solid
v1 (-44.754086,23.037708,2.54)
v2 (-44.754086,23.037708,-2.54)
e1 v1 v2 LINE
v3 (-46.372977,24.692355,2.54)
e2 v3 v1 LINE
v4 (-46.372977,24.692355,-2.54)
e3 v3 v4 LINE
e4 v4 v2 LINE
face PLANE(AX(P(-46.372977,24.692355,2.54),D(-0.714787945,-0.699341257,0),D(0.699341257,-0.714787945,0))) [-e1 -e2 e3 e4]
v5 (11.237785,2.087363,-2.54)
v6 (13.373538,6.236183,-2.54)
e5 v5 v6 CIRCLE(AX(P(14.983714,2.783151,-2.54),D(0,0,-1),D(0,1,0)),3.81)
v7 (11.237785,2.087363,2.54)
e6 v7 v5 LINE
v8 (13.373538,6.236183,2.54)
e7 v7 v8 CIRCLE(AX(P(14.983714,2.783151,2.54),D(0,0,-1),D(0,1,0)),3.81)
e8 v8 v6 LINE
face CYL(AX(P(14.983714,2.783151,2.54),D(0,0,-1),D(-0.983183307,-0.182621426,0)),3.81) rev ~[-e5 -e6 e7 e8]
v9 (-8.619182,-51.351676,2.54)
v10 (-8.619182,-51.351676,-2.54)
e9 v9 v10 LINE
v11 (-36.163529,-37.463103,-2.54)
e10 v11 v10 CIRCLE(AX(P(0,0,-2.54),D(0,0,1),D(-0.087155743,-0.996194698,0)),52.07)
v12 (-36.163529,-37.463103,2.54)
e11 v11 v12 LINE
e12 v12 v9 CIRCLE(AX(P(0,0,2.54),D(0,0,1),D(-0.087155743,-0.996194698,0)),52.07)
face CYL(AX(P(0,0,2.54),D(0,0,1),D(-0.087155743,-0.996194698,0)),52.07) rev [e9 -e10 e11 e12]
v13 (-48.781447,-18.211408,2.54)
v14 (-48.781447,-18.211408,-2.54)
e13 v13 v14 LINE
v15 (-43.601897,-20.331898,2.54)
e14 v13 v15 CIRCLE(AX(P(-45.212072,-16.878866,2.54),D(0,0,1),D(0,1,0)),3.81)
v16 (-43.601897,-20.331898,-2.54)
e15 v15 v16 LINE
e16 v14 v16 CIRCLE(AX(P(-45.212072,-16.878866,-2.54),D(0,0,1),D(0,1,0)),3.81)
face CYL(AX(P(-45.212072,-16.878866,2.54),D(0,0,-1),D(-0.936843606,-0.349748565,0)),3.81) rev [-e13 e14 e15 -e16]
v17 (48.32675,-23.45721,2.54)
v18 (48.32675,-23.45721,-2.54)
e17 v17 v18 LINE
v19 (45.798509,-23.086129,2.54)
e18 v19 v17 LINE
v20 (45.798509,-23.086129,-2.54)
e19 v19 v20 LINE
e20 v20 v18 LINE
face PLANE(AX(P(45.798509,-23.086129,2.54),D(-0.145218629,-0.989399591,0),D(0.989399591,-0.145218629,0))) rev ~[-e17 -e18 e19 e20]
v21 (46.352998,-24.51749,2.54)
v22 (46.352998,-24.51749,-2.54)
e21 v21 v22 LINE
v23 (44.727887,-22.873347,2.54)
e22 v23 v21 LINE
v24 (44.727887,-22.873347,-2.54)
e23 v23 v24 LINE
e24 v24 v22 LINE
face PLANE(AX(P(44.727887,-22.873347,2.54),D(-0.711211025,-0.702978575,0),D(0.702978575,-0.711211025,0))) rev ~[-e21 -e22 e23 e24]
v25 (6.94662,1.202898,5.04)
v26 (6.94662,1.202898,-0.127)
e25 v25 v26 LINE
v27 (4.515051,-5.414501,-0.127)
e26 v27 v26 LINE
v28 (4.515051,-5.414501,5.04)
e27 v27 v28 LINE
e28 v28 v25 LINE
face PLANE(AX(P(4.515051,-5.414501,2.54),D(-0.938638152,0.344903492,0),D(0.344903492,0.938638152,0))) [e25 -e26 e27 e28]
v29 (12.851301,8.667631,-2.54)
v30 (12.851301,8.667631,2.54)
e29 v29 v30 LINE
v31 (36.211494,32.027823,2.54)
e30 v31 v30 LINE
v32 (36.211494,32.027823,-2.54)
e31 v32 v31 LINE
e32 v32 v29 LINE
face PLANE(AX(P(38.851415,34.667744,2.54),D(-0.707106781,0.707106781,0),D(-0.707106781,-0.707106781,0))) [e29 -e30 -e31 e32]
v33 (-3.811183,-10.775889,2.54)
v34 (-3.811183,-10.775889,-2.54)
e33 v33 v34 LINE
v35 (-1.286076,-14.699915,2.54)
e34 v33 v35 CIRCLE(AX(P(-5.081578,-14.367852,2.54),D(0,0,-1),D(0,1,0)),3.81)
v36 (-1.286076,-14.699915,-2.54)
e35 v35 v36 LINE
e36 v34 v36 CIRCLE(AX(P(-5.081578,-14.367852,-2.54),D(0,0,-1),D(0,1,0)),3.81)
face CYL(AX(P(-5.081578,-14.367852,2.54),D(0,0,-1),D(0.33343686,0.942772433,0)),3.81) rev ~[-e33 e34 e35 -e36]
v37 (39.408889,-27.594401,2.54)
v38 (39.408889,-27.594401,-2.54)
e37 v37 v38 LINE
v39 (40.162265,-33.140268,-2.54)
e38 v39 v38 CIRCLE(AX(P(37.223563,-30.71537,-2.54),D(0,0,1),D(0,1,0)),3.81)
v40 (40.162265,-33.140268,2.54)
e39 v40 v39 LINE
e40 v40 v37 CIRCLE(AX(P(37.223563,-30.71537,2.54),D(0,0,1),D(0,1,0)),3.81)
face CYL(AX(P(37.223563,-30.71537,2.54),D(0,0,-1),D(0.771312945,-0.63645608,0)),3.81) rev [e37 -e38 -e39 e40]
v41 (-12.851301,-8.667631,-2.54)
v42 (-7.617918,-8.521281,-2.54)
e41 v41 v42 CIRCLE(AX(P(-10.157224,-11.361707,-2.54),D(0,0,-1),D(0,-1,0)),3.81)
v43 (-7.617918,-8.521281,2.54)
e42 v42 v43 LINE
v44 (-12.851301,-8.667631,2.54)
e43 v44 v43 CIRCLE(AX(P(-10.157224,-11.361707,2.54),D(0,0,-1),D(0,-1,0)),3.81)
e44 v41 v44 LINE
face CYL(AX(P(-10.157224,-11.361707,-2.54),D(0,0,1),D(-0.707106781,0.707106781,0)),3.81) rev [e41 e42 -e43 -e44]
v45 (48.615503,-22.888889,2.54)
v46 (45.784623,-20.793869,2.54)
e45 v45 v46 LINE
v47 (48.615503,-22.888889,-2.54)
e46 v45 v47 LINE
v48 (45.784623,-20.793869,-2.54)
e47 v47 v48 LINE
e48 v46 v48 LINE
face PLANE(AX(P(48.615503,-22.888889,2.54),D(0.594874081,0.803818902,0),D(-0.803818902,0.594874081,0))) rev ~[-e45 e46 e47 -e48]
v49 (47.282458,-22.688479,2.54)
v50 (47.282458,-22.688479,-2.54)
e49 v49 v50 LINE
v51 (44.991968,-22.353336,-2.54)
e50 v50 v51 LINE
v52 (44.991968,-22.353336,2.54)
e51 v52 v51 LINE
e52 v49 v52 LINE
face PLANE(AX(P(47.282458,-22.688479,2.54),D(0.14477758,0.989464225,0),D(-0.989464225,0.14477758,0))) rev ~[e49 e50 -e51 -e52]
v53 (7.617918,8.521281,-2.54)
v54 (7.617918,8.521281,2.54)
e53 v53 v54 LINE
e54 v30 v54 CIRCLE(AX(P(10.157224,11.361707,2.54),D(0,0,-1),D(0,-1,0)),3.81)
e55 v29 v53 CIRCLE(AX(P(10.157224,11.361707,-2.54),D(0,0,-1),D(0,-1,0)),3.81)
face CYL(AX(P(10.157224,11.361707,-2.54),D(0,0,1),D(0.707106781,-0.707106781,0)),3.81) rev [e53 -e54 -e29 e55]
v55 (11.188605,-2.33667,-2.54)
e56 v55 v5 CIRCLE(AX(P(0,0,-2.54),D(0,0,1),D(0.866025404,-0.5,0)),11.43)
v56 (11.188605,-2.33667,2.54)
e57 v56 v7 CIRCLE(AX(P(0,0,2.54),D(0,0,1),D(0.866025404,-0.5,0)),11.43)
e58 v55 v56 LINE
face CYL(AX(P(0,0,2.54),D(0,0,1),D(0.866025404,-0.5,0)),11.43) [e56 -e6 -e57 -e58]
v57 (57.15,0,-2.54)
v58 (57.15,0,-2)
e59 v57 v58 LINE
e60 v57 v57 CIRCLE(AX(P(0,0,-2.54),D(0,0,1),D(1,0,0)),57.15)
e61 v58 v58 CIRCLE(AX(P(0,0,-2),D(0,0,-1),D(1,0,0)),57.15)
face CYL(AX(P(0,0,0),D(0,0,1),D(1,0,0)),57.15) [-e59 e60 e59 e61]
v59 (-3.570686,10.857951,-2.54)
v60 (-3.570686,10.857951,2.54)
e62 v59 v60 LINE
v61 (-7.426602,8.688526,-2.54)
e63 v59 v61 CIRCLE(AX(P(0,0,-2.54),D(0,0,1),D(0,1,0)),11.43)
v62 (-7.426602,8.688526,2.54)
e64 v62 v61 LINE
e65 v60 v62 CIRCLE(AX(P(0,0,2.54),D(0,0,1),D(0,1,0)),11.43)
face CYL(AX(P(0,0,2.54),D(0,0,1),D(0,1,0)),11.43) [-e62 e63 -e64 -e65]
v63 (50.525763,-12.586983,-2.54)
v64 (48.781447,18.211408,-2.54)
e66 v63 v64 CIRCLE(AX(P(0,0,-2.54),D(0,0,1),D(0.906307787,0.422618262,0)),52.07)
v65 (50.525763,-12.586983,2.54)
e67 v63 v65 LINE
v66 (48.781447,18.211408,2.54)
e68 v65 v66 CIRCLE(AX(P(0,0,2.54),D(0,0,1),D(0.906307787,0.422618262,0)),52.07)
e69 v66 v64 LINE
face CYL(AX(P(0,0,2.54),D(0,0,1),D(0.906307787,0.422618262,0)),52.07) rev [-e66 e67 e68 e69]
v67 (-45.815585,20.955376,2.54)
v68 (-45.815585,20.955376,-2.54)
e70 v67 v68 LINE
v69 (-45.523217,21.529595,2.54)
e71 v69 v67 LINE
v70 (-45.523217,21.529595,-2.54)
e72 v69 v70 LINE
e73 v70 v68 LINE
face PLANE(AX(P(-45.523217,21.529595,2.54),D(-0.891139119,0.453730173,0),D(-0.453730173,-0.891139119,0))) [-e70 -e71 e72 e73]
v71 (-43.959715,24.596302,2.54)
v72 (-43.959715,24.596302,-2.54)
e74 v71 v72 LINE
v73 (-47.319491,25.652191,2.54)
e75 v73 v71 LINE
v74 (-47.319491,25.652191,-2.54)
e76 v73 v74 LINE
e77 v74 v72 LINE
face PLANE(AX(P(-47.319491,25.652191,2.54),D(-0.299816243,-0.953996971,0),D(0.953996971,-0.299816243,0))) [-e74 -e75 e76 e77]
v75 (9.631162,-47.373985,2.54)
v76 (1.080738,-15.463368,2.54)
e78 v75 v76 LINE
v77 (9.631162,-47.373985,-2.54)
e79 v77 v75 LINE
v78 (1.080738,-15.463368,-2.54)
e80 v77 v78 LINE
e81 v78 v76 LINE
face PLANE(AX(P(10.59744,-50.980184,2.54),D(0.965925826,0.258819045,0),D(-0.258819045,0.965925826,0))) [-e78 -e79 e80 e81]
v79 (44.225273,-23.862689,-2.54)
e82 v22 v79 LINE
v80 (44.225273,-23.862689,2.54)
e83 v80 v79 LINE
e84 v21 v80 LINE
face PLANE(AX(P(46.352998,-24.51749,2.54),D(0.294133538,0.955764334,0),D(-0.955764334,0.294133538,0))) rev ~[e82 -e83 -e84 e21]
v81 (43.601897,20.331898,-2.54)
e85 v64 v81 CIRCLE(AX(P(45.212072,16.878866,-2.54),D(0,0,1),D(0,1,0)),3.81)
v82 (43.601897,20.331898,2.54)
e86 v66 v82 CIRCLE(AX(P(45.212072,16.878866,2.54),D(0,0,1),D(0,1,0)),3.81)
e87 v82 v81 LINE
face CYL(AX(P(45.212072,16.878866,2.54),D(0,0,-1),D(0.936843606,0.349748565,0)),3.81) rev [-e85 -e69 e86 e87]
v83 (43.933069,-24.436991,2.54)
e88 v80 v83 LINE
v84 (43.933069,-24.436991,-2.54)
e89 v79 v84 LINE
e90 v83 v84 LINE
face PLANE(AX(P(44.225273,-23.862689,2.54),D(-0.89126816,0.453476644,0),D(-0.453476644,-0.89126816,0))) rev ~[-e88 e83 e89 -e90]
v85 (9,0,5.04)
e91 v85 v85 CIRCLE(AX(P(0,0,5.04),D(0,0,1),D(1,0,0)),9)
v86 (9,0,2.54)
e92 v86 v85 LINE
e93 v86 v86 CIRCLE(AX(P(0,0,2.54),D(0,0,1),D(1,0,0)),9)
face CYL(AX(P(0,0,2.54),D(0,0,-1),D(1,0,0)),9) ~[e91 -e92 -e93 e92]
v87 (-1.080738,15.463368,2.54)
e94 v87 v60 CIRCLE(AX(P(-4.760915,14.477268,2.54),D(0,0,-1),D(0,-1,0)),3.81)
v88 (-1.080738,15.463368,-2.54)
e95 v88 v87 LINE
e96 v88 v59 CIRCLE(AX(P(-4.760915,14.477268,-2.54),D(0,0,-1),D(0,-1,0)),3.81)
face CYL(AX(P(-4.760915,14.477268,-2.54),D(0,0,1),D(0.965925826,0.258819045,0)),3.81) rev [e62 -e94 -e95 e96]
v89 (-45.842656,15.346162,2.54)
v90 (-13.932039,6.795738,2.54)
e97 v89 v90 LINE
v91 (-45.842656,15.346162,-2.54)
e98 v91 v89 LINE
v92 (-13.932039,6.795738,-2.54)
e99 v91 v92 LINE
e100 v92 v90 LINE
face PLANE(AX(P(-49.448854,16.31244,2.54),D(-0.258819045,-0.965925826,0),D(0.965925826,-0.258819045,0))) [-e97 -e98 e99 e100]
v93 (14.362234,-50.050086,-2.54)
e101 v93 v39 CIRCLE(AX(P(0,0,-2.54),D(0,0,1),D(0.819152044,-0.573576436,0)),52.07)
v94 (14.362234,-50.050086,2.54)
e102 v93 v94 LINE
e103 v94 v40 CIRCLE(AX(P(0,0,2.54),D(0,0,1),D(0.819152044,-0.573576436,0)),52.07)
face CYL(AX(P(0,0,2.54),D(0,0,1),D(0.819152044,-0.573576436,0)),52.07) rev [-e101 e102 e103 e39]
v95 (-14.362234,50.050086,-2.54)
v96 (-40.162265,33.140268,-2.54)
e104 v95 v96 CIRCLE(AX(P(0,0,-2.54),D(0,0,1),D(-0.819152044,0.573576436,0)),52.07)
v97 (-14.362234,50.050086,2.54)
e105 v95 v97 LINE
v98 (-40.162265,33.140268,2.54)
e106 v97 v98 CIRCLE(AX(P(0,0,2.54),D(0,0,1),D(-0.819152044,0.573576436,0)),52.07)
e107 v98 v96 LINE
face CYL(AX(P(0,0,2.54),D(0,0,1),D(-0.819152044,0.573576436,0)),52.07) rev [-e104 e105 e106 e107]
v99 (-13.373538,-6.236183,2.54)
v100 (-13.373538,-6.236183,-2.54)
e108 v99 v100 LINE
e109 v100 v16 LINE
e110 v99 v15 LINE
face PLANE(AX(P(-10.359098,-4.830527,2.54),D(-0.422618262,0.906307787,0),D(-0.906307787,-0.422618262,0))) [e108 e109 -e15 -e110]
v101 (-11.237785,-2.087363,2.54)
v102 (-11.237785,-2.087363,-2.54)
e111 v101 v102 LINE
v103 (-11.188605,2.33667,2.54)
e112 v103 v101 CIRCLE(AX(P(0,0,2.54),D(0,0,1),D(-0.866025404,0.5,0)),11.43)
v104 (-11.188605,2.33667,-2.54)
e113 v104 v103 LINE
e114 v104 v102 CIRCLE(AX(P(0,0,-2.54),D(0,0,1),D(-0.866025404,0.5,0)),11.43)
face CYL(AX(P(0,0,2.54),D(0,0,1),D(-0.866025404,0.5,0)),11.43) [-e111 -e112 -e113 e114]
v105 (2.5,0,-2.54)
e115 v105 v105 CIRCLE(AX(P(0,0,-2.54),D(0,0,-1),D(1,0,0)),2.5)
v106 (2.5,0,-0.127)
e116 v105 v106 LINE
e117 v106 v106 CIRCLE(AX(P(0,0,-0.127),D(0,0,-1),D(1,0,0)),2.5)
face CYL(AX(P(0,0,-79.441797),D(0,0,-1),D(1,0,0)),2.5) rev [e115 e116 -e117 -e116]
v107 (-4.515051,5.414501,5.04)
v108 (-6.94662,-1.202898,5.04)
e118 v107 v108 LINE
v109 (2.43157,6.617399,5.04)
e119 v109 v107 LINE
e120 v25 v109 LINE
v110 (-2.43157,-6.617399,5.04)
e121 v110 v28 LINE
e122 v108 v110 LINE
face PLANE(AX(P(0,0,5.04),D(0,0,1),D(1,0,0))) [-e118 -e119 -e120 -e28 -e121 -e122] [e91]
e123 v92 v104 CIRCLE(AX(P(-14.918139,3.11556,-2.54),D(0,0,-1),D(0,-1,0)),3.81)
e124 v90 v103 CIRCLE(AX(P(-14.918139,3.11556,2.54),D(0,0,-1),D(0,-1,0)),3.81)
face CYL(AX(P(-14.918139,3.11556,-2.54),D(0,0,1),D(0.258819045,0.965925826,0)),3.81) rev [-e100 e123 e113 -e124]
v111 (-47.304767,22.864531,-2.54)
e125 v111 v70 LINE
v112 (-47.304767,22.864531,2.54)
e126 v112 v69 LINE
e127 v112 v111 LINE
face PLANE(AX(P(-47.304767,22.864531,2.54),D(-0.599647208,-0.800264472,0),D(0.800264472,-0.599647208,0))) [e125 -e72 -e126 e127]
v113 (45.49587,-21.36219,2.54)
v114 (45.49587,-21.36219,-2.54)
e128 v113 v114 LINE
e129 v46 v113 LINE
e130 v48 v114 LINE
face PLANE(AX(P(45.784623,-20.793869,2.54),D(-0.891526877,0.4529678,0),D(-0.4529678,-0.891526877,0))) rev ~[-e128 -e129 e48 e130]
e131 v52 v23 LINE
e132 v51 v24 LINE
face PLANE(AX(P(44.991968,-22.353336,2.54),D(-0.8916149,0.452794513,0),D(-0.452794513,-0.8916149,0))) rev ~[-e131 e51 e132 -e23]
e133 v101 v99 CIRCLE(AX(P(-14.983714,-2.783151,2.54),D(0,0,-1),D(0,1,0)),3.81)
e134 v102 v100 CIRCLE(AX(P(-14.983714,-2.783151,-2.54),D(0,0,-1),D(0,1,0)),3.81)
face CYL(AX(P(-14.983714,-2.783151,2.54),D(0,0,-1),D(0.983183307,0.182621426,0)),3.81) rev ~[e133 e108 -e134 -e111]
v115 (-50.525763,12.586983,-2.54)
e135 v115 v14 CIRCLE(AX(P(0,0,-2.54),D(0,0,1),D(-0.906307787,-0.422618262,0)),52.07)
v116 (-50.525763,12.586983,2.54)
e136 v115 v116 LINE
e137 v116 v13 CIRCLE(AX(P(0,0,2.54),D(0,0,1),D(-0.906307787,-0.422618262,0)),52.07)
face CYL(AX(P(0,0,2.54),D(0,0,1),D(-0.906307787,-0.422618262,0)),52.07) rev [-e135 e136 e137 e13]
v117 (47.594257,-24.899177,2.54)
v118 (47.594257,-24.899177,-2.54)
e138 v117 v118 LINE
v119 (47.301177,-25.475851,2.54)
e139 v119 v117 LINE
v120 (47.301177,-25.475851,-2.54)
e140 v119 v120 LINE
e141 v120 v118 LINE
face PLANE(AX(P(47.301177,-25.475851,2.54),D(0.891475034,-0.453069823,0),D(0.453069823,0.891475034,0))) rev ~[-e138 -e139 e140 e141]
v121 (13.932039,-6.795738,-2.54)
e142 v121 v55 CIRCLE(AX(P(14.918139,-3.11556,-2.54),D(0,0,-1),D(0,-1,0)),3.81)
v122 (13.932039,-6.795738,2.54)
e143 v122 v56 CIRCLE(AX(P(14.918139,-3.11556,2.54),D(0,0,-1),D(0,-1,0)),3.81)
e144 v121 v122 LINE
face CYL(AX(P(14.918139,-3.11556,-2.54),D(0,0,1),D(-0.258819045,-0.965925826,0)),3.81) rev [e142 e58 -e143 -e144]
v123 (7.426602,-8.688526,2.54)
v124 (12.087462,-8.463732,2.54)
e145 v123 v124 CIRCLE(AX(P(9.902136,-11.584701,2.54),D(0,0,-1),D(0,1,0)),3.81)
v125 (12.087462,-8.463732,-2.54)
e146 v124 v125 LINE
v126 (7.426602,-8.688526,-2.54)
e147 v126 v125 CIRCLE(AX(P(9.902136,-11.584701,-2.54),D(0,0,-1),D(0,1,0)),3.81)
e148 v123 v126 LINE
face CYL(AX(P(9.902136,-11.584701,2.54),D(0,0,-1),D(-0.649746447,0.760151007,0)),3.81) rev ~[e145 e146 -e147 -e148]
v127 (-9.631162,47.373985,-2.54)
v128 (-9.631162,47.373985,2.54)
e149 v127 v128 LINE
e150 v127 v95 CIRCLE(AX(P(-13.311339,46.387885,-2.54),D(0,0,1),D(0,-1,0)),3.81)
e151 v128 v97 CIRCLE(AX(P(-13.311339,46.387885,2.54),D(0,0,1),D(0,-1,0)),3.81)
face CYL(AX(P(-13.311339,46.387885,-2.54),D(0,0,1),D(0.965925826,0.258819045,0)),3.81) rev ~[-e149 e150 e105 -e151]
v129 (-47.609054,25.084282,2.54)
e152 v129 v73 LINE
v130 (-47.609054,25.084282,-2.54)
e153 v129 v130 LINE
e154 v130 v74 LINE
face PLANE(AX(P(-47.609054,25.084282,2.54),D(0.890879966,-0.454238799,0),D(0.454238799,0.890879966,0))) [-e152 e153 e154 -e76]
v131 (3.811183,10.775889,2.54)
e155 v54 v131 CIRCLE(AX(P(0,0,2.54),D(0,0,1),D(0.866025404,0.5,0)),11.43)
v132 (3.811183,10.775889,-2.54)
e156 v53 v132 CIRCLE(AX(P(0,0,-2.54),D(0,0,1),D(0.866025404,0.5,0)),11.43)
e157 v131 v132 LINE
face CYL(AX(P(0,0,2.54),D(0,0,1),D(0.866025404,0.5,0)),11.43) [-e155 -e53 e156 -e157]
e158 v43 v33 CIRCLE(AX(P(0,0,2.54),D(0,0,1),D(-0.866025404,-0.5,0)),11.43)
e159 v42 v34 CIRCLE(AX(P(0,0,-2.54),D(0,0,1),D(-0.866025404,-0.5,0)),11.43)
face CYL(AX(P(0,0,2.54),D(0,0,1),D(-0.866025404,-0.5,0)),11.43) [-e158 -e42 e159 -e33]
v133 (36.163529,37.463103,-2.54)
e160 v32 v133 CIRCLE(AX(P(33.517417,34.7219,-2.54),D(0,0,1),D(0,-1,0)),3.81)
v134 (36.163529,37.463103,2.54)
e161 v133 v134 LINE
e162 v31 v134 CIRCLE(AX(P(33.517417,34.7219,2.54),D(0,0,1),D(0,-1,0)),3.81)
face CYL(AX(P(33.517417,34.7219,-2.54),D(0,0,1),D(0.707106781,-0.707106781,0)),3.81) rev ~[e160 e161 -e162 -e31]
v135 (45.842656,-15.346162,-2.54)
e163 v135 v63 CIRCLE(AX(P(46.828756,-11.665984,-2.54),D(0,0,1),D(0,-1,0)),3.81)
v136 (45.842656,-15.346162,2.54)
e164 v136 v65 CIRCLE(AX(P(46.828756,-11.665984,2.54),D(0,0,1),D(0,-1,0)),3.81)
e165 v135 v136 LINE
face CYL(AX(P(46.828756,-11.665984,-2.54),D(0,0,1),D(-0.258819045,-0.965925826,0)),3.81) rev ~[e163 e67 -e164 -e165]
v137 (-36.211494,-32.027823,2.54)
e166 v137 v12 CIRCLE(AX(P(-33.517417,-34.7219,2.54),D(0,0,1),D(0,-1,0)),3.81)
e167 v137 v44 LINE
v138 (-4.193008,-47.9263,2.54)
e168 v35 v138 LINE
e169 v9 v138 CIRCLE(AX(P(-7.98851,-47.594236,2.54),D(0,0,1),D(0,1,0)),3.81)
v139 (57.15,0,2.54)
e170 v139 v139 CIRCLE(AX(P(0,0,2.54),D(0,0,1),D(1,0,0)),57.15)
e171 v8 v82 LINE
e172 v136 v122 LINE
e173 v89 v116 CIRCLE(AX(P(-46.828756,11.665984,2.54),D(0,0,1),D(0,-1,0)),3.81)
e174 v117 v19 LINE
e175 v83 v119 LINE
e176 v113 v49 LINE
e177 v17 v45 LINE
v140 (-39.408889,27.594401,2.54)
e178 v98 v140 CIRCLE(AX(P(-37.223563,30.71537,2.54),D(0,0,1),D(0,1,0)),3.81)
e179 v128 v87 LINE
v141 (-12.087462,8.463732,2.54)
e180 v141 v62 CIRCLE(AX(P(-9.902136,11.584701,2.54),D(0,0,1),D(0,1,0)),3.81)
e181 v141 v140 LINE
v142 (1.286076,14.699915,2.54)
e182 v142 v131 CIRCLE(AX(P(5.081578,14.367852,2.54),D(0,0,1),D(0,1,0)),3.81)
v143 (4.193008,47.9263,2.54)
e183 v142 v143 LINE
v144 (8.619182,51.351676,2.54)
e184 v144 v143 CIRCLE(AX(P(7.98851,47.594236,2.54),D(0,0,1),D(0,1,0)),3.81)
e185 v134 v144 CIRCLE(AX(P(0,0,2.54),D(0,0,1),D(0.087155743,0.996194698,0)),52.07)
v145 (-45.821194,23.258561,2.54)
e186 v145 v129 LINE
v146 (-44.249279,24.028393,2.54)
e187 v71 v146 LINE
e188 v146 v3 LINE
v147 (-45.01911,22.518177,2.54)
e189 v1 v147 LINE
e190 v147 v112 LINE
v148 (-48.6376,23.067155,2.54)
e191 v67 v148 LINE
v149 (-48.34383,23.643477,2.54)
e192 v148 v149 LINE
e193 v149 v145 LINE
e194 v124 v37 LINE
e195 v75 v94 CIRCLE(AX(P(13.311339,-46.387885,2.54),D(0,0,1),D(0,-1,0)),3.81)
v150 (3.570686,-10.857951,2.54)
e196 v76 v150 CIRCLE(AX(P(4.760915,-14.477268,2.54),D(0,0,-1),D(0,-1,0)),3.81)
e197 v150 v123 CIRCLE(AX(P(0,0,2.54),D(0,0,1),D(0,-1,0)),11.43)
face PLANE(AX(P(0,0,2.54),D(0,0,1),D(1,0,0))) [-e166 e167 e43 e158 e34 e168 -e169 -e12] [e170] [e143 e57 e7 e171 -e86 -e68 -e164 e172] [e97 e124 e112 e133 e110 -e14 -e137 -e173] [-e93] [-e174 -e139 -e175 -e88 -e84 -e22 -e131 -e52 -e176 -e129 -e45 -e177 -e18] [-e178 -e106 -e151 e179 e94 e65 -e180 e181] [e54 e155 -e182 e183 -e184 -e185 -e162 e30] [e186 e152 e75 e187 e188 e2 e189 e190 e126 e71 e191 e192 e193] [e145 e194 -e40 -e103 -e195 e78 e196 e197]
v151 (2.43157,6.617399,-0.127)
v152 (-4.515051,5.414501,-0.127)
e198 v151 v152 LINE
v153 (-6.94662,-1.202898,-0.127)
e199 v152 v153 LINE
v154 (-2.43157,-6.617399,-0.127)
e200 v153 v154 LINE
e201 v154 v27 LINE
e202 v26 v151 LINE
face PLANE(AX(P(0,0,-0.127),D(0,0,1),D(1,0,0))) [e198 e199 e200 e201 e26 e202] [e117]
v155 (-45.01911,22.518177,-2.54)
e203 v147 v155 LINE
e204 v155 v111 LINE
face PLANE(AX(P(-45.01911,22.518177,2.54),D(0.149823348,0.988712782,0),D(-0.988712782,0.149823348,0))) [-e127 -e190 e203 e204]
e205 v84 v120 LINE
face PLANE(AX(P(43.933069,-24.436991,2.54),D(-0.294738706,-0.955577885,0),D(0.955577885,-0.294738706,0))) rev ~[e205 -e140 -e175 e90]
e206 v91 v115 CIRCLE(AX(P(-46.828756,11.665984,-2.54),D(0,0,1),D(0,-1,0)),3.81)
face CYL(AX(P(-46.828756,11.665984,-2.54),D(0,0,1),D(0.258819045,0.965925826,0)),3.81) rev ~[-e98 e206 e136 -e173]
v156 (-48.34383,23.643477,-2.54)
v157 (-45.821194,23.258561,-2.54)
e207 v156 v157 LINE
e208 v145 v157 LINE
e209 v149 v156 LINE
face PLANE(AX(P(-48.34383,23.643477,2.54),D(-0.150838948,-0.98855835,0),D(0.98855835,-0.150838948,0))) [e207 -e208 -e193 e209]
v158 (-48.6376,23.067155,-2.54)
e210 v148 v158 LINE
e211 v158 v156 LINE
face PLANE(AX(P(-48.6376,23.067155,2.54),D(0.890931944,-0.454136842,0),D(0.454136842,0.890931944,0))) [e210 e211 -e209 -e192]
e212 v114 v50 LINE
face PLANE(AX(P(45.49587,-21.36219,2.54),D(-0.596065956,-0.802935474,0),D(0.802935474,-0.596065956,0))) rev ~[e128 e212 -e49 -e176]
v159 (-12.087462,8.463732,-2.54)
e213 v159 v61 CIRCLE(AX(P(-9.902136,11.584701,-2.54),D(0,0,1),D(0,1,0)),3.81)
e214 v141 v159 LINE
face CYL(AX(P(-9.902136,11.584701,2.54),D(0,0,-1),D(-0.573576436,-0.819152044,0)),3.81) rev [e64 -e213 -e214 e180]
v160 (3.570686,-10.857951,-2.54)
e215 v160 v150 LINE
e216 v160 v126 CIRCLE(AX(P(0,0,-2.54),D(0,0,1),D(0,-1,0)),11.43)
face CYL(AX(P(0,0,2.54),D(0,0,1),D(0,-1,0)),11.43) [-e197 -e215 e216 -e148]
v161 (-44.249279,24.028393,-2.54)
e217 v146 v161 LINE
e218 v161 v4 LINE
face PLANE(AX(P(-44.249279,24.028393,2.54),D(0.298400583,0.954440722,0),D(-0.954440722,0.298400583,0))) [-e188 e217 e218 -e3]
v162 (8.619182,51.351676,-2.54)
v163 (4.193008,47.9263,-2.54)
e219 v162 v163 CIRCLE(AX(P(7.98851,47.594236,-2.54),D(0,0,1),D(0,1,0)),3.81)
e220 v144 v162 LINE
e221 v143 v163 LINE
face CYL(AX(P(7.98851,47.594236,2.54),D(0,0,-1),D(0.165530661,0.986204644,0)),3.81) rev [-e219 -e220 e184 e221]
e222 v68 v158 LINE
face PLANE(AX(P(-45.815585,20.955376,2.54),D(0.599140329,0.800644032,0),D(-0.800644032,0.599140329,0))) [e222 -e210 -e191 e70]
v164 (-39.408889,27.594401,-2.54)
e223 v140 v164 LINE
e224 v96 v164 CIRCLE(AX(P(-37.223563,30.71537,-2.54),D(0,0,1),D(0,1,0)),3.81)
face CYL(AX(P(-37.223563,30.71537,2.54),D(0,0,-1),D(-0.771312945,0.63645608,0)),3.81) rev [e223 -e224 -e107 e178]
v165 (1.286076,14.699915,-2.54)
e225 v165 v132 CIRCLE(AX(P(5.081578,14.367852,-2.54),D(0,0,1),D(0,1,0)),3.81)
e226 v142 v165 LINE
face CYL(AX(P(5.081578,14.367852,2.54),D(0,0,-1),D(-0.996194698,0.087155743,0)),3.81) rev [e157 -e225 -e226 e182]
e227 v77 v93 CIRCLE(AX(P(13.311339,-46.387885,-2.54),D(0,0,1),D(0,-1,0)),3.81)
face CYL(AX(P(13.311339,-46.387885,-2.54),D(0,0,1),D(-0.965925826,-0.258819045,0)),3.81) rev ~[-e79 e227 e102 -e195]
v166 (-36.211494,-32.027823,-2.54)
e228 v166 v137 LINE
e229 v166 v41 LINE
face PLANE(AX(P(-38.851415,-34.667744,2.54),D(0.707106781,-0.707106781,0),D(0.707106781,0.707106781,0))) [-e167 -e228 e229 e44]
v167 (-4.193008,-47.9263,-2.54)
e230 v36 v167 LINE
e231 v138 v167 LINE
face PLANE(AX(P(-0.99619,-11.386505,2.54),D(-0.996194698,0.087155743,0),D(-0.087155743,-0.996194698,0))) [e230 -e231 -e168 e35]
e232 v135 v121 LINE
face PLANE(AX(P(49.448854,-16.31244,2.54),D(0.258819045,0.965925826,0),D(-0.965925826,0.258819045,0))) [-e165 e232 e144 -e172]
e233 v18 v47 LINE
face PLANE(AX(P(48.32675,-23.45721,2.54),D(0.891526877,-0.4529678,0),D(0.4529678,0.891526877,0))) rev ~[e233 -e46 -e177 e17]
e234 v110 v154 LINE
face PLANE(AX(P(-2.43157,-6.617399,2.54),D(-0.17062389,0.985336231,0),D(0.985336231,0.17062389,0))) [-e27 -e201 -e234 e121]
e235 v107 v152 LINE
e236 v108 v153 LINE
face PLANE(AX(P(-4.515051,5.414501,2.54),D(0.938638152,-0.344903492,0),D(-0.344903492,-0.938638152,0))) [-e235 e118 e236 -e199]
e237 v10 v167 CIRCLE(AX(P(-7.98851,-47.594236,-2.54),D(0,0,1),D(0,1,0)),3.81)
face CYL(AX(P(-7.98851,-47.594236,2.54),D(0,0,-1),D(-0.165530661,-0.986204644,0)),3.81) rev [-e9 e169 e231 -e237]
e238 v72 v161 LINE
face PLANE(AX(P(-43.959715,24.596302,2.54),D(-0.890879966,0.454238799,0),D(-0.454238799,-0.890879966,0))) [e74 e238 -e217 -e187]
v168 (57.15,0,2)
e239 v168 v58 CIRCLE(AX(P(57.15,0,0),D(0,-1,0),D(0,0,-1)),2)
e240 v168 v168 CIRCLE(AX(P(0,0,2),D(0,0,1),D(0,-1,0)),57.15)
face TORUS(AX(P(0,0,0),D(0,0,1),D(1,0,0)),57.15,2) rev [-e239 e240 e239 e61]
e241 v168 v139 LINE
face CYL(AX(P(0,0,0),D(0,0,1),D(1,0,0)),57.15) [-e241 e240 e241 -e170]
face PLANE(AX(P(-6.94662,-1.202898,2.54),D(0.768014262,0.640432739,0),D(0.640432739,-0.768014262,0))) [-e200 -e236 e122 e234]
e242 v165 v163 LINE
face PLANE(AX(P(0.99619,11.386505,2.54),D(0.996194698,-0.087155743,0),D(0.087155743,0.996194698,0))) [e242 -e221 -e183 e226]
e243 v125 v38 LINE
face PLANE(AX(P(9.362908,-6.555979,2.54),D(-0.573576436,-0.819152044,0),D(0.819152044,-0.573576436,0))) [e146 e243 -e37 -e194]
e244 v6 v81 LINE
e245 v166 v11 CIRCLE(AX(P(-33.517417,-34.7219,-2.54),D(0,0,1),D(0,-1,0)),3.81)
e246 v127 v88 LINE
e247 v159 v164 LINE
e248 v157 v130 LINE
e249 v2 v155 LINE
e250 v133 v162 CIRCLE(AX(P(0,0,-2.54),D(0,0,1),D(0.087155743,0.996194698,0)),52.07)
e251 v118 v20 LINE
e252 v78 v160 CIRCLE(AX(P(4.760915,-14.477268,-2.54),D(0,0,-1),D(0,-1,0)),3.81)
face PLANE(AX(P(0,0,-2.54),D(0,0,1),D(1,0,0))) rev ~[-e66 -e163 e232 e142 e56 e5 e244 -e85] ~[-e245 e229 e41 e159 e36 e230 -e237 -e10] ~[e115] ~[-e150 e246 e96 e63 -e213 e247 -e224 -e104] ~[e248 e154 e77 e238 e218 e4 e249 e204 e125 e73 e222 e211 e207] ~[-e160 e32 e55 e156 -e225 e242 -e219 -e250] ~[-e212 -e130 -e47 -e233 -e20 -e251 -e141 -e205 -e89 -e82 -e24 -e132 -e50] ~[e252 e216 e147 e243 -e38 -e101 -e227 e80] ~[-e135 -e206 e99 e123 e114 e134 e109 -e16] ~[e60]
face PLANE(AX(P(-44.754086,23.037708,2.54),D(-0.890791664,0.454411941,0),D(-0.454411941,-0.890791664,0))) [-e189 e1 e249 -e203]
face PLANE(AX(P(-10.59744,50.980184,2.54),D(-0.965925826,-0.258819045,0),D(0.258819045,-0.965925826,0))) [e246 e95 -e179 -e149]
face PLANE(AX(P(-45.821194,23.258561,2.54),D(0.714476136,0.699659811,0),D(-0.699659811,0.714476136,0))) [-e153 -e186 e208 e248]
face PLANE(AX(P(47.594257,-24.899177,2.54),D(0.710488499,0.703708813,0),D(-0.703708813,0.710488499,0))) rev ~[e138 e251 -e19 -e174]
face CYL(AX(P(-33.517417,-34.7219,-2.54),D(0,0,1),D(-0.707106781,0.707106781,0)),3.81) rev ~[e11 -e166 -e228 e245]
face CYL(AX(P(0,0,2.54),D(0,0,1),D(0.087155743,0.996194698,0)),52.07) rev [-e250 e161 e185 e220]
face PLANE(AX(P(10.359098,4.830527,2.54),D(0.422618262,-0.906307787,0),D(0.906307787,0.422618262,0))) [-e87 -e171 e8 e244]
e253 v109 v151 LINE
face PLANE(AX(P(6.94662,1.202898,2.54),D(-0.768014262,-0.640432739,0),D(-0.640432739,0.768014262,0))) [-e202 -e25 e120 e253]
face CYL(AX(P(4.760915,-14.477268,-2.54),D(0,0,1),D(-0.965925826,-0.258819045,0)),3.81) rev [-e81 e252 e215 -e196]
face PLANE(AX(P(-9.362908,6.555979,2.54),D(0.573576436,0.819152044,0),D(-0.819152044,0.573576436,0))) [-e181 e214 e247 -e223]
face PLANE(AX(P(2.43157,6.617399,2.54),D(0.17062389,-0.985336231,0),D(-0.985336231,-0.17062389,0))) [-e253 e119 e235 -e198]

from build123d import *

# Parameters (mm, degrees)
SKETCH1_R                = 57.15
BOSS_EXTRUDE3_DEPTH      = 2.54
CUT_EXTRUDE1_DEPTH       = 81.98179672
FILLET1_R                = 3.81
CIRPATTERN1_COUNT        = 6
FILLET1_OF_CIRPATTERN1_R = 3.81
CUT_EXTRUDE2_DEPTH       = 81.98179672
CUT_EXTRUDE2_DEPTH_BACK  = 81.98179672
SKETCH4_R                = 2.5
CUT_EXTRUDE3_DEPTH       = 2.667
SKETCH5_3_R              = 9
BOSS_EXTRUDE9_DEPTH      = 2.5
SKETCH11_R               = 2
CUT_EXTRUDE4_DEPTH       = 81.98179672


with BuildPart() as part:
    # Sketch1 → Boss-Extrude3 (new, symmetric)
    with BuildSketch(Plane.XY):
        Circle(SKETCH1_R)
    extrude(amount=BOSS_EXTRUDE3_DEPTH, both=True)

    # Sketch3 → Cut-Extrude1 (cut, symmetric)
    with BuildSketch(Plane.XY.offset(2.54)):
        with BuildLine():
            ThreePointArc((-10.597439882, 50.980184071), (-28.641923541, 43.48476878), (-42.653246946, 29.866125041))
            Line((-42.653246946, 29.866125041), (-9.362907866, 6.555978667))
            ThreePointArc((-9.362907866, 6.555978667), (-5.277786649, 10.138533823), (0, 11.43))
            Line((0, 11.43), (-10.597439882, 50.980184071))
        make_face()
    cut_extrude1 = extrude(amount=CUT_EXTRUDE1_DEPTH, both=True, mode=Mode.SUBTRACT)

    # Fillet1
    fillet1_edges = [part.edges().sort_by_distance(p)[0] for p in [
        (-9.362907866, 6.555978667, 0),
        (-42.653246946, 29.866125041, 0),
        (0, 11.43, 0),
        (-10.597439882, 50.980184071, 0),
    ]]
    fillet(fillet1_edges, radius=FILLET1_R)

    # CirPattern1: Cut-Extrude1 ×6 about axis
    cirpattern1_axis = Axis((0, 0, 2.54), (0, 0, -1))
    for i in range(1, CIRPATTERN1_COUNT):
        add(cut_extrude1.rotate(cirpattern1_axis, i * 360 / CIRPATTERN1_COUNT), mode=Mode.SUBTRACT)

    # Fillet1 of CirPattern1
    fillet1_of_cirpattern1_edges = [part.edges().sort_by_distance(p)[0] for p in [
        (0.99619014, 11.386505399, 0),
        (4.538199525, 51.87185793, 0),
        (9.898670365, 5.715, 0),
        (38.851414554, 34.667744189, 0),
        (10.359098006, 4.830526732, 0),
        (47.191446471, 22.005732889, 0),
        (9.898670365, -5.715, 0),
        (49.448854437, -16.312439882, 0),
        (9.362907866, -6.555978667, 0),
        (42.653246946, -29.866125041, 0),
        (0, -11.43, 0),
        (10.597439882, -50.980184071, 0),
        (-0.99619014, -11.386505399, 0),
        (-4.538199525, -51.87185793, 0),
        (-9.898670365, -5.715, 0),
        (-38.851414554, -34.667744189, 0),
        (-10.359098006, -4.830526732, 0),
        (-47.191446471, -22.005732889, 0),
        (-9.898670365, 5.715, 0),
        (-49.448854437, 16.312439882, 0),
    ]]
    fillet(fillet1_of_cirpattern1_edges, radius=FILLET1_OF_CIRPATTERN1_R)

    # Sketch4 → Cut-Extrude2 (cut, two sides: drawn at the far end of the back side and taken through both)
    with BuildSketch(Plane.XY.offset(2.54).offset(-CUT_EXTRUDE2_DEPTH_BACK)):
        Circle(SKETCH4_R)
    extrude(amount=CUT_EXTRUDE2_DEPTH + CUT_EXTRUDE2_DEPTH_BACK, mode=Mode.SUBTRACT)

    # Sketch5 → Cut-Extrude3 (cut, symmetric)
    with BuildSketch(Plane.XY.offset(2.54)):
        Polygon((4.515050808, -5.41450055), (6.946620429, 1.202898424), (2.431569621, 6.617398974), (-4.515050808, 5.41450055), (-6.946620429, -1.202898424), (-2.431569621, -6.617398974), align=None)
    extrude(amount=CUT_EXTRUDE3_DEPTH, both=True, mode=Mode.SUBTRACT)

    # Sketch5<3> → Boss-Extrude9 (add)
    with BuildSketch(Plane.XY.offset(2.54)):
        Circle(SKETCH5_3_R)
        Polygon((4.515050808, -5.41450055), (6.946620429, 1.202898424), (2.431569621, 6.617398974), (-4.515050808, 5.41450055), (-6.946620429, -1.202898424), (-2.431569621, -6.617398974), align=None, mode=Mode.SUBTRACT)
    extrude(amount=BOSS_EXTRUDE9_DEPTH)

    # Sketch11 → Cut-Revolve1 (revolve, cut)
    with BuildSketch(Plane(origin=(0, 0, 0), x_dir=(0, 0, -1), z_dir=(1, 0, 0))):
        with Locations((0, 57.15)):
            Circle(SKETCH11_R)
    revolve(axis=Axis((0, 0, 5.04), (0, 0, -1)), mode=Mode.SUBTRACT)

    # Sketch12 → Cut-Extrude4 (cut, through all)
    with BuildSketch(Plane.XY.offset(2.54)):
        Polygon((-48.637599982, 23.067154966), (-48.34382995, 23.643477082), (-45.821193732, 23.258561216), (-47.609054309, 25.08428237), (-47.319491007, 25.652191024), (-43.959715366, 24.596301601), (-44.249278668, 24.028392947), (-46.372976584, 24.692355287), (-44.75408636, 23.037707851), (-45.019110398, 22.518176601), (-47.30476745, 22.864530768), (-45.523216969, 21.52959487), (-45.815584757, 20.95537612), align=None)
        Polygon((47.301176757, -25.475850915), (47.59425656, -24.899177488), (45.798508906, -23.086129205), (48.326749768, -23.45721049), (48.615502847, -22.888889451), (45.784622613, -20.793868703), (45.495869534, -21.362189742), (47.282457589, -22.688478531), (44.991967867, -22.353335985), (44.727887152, -22.873347367), (46.352998071, -24.517489655), (44.225273466, -23.862688943), (43.933069043, -24.436990843), align=None)
    extrude(amount=-CUT_EXTRUDE4_DEPTH, mode=Mode.SUBTRACT)


solid = part.part
